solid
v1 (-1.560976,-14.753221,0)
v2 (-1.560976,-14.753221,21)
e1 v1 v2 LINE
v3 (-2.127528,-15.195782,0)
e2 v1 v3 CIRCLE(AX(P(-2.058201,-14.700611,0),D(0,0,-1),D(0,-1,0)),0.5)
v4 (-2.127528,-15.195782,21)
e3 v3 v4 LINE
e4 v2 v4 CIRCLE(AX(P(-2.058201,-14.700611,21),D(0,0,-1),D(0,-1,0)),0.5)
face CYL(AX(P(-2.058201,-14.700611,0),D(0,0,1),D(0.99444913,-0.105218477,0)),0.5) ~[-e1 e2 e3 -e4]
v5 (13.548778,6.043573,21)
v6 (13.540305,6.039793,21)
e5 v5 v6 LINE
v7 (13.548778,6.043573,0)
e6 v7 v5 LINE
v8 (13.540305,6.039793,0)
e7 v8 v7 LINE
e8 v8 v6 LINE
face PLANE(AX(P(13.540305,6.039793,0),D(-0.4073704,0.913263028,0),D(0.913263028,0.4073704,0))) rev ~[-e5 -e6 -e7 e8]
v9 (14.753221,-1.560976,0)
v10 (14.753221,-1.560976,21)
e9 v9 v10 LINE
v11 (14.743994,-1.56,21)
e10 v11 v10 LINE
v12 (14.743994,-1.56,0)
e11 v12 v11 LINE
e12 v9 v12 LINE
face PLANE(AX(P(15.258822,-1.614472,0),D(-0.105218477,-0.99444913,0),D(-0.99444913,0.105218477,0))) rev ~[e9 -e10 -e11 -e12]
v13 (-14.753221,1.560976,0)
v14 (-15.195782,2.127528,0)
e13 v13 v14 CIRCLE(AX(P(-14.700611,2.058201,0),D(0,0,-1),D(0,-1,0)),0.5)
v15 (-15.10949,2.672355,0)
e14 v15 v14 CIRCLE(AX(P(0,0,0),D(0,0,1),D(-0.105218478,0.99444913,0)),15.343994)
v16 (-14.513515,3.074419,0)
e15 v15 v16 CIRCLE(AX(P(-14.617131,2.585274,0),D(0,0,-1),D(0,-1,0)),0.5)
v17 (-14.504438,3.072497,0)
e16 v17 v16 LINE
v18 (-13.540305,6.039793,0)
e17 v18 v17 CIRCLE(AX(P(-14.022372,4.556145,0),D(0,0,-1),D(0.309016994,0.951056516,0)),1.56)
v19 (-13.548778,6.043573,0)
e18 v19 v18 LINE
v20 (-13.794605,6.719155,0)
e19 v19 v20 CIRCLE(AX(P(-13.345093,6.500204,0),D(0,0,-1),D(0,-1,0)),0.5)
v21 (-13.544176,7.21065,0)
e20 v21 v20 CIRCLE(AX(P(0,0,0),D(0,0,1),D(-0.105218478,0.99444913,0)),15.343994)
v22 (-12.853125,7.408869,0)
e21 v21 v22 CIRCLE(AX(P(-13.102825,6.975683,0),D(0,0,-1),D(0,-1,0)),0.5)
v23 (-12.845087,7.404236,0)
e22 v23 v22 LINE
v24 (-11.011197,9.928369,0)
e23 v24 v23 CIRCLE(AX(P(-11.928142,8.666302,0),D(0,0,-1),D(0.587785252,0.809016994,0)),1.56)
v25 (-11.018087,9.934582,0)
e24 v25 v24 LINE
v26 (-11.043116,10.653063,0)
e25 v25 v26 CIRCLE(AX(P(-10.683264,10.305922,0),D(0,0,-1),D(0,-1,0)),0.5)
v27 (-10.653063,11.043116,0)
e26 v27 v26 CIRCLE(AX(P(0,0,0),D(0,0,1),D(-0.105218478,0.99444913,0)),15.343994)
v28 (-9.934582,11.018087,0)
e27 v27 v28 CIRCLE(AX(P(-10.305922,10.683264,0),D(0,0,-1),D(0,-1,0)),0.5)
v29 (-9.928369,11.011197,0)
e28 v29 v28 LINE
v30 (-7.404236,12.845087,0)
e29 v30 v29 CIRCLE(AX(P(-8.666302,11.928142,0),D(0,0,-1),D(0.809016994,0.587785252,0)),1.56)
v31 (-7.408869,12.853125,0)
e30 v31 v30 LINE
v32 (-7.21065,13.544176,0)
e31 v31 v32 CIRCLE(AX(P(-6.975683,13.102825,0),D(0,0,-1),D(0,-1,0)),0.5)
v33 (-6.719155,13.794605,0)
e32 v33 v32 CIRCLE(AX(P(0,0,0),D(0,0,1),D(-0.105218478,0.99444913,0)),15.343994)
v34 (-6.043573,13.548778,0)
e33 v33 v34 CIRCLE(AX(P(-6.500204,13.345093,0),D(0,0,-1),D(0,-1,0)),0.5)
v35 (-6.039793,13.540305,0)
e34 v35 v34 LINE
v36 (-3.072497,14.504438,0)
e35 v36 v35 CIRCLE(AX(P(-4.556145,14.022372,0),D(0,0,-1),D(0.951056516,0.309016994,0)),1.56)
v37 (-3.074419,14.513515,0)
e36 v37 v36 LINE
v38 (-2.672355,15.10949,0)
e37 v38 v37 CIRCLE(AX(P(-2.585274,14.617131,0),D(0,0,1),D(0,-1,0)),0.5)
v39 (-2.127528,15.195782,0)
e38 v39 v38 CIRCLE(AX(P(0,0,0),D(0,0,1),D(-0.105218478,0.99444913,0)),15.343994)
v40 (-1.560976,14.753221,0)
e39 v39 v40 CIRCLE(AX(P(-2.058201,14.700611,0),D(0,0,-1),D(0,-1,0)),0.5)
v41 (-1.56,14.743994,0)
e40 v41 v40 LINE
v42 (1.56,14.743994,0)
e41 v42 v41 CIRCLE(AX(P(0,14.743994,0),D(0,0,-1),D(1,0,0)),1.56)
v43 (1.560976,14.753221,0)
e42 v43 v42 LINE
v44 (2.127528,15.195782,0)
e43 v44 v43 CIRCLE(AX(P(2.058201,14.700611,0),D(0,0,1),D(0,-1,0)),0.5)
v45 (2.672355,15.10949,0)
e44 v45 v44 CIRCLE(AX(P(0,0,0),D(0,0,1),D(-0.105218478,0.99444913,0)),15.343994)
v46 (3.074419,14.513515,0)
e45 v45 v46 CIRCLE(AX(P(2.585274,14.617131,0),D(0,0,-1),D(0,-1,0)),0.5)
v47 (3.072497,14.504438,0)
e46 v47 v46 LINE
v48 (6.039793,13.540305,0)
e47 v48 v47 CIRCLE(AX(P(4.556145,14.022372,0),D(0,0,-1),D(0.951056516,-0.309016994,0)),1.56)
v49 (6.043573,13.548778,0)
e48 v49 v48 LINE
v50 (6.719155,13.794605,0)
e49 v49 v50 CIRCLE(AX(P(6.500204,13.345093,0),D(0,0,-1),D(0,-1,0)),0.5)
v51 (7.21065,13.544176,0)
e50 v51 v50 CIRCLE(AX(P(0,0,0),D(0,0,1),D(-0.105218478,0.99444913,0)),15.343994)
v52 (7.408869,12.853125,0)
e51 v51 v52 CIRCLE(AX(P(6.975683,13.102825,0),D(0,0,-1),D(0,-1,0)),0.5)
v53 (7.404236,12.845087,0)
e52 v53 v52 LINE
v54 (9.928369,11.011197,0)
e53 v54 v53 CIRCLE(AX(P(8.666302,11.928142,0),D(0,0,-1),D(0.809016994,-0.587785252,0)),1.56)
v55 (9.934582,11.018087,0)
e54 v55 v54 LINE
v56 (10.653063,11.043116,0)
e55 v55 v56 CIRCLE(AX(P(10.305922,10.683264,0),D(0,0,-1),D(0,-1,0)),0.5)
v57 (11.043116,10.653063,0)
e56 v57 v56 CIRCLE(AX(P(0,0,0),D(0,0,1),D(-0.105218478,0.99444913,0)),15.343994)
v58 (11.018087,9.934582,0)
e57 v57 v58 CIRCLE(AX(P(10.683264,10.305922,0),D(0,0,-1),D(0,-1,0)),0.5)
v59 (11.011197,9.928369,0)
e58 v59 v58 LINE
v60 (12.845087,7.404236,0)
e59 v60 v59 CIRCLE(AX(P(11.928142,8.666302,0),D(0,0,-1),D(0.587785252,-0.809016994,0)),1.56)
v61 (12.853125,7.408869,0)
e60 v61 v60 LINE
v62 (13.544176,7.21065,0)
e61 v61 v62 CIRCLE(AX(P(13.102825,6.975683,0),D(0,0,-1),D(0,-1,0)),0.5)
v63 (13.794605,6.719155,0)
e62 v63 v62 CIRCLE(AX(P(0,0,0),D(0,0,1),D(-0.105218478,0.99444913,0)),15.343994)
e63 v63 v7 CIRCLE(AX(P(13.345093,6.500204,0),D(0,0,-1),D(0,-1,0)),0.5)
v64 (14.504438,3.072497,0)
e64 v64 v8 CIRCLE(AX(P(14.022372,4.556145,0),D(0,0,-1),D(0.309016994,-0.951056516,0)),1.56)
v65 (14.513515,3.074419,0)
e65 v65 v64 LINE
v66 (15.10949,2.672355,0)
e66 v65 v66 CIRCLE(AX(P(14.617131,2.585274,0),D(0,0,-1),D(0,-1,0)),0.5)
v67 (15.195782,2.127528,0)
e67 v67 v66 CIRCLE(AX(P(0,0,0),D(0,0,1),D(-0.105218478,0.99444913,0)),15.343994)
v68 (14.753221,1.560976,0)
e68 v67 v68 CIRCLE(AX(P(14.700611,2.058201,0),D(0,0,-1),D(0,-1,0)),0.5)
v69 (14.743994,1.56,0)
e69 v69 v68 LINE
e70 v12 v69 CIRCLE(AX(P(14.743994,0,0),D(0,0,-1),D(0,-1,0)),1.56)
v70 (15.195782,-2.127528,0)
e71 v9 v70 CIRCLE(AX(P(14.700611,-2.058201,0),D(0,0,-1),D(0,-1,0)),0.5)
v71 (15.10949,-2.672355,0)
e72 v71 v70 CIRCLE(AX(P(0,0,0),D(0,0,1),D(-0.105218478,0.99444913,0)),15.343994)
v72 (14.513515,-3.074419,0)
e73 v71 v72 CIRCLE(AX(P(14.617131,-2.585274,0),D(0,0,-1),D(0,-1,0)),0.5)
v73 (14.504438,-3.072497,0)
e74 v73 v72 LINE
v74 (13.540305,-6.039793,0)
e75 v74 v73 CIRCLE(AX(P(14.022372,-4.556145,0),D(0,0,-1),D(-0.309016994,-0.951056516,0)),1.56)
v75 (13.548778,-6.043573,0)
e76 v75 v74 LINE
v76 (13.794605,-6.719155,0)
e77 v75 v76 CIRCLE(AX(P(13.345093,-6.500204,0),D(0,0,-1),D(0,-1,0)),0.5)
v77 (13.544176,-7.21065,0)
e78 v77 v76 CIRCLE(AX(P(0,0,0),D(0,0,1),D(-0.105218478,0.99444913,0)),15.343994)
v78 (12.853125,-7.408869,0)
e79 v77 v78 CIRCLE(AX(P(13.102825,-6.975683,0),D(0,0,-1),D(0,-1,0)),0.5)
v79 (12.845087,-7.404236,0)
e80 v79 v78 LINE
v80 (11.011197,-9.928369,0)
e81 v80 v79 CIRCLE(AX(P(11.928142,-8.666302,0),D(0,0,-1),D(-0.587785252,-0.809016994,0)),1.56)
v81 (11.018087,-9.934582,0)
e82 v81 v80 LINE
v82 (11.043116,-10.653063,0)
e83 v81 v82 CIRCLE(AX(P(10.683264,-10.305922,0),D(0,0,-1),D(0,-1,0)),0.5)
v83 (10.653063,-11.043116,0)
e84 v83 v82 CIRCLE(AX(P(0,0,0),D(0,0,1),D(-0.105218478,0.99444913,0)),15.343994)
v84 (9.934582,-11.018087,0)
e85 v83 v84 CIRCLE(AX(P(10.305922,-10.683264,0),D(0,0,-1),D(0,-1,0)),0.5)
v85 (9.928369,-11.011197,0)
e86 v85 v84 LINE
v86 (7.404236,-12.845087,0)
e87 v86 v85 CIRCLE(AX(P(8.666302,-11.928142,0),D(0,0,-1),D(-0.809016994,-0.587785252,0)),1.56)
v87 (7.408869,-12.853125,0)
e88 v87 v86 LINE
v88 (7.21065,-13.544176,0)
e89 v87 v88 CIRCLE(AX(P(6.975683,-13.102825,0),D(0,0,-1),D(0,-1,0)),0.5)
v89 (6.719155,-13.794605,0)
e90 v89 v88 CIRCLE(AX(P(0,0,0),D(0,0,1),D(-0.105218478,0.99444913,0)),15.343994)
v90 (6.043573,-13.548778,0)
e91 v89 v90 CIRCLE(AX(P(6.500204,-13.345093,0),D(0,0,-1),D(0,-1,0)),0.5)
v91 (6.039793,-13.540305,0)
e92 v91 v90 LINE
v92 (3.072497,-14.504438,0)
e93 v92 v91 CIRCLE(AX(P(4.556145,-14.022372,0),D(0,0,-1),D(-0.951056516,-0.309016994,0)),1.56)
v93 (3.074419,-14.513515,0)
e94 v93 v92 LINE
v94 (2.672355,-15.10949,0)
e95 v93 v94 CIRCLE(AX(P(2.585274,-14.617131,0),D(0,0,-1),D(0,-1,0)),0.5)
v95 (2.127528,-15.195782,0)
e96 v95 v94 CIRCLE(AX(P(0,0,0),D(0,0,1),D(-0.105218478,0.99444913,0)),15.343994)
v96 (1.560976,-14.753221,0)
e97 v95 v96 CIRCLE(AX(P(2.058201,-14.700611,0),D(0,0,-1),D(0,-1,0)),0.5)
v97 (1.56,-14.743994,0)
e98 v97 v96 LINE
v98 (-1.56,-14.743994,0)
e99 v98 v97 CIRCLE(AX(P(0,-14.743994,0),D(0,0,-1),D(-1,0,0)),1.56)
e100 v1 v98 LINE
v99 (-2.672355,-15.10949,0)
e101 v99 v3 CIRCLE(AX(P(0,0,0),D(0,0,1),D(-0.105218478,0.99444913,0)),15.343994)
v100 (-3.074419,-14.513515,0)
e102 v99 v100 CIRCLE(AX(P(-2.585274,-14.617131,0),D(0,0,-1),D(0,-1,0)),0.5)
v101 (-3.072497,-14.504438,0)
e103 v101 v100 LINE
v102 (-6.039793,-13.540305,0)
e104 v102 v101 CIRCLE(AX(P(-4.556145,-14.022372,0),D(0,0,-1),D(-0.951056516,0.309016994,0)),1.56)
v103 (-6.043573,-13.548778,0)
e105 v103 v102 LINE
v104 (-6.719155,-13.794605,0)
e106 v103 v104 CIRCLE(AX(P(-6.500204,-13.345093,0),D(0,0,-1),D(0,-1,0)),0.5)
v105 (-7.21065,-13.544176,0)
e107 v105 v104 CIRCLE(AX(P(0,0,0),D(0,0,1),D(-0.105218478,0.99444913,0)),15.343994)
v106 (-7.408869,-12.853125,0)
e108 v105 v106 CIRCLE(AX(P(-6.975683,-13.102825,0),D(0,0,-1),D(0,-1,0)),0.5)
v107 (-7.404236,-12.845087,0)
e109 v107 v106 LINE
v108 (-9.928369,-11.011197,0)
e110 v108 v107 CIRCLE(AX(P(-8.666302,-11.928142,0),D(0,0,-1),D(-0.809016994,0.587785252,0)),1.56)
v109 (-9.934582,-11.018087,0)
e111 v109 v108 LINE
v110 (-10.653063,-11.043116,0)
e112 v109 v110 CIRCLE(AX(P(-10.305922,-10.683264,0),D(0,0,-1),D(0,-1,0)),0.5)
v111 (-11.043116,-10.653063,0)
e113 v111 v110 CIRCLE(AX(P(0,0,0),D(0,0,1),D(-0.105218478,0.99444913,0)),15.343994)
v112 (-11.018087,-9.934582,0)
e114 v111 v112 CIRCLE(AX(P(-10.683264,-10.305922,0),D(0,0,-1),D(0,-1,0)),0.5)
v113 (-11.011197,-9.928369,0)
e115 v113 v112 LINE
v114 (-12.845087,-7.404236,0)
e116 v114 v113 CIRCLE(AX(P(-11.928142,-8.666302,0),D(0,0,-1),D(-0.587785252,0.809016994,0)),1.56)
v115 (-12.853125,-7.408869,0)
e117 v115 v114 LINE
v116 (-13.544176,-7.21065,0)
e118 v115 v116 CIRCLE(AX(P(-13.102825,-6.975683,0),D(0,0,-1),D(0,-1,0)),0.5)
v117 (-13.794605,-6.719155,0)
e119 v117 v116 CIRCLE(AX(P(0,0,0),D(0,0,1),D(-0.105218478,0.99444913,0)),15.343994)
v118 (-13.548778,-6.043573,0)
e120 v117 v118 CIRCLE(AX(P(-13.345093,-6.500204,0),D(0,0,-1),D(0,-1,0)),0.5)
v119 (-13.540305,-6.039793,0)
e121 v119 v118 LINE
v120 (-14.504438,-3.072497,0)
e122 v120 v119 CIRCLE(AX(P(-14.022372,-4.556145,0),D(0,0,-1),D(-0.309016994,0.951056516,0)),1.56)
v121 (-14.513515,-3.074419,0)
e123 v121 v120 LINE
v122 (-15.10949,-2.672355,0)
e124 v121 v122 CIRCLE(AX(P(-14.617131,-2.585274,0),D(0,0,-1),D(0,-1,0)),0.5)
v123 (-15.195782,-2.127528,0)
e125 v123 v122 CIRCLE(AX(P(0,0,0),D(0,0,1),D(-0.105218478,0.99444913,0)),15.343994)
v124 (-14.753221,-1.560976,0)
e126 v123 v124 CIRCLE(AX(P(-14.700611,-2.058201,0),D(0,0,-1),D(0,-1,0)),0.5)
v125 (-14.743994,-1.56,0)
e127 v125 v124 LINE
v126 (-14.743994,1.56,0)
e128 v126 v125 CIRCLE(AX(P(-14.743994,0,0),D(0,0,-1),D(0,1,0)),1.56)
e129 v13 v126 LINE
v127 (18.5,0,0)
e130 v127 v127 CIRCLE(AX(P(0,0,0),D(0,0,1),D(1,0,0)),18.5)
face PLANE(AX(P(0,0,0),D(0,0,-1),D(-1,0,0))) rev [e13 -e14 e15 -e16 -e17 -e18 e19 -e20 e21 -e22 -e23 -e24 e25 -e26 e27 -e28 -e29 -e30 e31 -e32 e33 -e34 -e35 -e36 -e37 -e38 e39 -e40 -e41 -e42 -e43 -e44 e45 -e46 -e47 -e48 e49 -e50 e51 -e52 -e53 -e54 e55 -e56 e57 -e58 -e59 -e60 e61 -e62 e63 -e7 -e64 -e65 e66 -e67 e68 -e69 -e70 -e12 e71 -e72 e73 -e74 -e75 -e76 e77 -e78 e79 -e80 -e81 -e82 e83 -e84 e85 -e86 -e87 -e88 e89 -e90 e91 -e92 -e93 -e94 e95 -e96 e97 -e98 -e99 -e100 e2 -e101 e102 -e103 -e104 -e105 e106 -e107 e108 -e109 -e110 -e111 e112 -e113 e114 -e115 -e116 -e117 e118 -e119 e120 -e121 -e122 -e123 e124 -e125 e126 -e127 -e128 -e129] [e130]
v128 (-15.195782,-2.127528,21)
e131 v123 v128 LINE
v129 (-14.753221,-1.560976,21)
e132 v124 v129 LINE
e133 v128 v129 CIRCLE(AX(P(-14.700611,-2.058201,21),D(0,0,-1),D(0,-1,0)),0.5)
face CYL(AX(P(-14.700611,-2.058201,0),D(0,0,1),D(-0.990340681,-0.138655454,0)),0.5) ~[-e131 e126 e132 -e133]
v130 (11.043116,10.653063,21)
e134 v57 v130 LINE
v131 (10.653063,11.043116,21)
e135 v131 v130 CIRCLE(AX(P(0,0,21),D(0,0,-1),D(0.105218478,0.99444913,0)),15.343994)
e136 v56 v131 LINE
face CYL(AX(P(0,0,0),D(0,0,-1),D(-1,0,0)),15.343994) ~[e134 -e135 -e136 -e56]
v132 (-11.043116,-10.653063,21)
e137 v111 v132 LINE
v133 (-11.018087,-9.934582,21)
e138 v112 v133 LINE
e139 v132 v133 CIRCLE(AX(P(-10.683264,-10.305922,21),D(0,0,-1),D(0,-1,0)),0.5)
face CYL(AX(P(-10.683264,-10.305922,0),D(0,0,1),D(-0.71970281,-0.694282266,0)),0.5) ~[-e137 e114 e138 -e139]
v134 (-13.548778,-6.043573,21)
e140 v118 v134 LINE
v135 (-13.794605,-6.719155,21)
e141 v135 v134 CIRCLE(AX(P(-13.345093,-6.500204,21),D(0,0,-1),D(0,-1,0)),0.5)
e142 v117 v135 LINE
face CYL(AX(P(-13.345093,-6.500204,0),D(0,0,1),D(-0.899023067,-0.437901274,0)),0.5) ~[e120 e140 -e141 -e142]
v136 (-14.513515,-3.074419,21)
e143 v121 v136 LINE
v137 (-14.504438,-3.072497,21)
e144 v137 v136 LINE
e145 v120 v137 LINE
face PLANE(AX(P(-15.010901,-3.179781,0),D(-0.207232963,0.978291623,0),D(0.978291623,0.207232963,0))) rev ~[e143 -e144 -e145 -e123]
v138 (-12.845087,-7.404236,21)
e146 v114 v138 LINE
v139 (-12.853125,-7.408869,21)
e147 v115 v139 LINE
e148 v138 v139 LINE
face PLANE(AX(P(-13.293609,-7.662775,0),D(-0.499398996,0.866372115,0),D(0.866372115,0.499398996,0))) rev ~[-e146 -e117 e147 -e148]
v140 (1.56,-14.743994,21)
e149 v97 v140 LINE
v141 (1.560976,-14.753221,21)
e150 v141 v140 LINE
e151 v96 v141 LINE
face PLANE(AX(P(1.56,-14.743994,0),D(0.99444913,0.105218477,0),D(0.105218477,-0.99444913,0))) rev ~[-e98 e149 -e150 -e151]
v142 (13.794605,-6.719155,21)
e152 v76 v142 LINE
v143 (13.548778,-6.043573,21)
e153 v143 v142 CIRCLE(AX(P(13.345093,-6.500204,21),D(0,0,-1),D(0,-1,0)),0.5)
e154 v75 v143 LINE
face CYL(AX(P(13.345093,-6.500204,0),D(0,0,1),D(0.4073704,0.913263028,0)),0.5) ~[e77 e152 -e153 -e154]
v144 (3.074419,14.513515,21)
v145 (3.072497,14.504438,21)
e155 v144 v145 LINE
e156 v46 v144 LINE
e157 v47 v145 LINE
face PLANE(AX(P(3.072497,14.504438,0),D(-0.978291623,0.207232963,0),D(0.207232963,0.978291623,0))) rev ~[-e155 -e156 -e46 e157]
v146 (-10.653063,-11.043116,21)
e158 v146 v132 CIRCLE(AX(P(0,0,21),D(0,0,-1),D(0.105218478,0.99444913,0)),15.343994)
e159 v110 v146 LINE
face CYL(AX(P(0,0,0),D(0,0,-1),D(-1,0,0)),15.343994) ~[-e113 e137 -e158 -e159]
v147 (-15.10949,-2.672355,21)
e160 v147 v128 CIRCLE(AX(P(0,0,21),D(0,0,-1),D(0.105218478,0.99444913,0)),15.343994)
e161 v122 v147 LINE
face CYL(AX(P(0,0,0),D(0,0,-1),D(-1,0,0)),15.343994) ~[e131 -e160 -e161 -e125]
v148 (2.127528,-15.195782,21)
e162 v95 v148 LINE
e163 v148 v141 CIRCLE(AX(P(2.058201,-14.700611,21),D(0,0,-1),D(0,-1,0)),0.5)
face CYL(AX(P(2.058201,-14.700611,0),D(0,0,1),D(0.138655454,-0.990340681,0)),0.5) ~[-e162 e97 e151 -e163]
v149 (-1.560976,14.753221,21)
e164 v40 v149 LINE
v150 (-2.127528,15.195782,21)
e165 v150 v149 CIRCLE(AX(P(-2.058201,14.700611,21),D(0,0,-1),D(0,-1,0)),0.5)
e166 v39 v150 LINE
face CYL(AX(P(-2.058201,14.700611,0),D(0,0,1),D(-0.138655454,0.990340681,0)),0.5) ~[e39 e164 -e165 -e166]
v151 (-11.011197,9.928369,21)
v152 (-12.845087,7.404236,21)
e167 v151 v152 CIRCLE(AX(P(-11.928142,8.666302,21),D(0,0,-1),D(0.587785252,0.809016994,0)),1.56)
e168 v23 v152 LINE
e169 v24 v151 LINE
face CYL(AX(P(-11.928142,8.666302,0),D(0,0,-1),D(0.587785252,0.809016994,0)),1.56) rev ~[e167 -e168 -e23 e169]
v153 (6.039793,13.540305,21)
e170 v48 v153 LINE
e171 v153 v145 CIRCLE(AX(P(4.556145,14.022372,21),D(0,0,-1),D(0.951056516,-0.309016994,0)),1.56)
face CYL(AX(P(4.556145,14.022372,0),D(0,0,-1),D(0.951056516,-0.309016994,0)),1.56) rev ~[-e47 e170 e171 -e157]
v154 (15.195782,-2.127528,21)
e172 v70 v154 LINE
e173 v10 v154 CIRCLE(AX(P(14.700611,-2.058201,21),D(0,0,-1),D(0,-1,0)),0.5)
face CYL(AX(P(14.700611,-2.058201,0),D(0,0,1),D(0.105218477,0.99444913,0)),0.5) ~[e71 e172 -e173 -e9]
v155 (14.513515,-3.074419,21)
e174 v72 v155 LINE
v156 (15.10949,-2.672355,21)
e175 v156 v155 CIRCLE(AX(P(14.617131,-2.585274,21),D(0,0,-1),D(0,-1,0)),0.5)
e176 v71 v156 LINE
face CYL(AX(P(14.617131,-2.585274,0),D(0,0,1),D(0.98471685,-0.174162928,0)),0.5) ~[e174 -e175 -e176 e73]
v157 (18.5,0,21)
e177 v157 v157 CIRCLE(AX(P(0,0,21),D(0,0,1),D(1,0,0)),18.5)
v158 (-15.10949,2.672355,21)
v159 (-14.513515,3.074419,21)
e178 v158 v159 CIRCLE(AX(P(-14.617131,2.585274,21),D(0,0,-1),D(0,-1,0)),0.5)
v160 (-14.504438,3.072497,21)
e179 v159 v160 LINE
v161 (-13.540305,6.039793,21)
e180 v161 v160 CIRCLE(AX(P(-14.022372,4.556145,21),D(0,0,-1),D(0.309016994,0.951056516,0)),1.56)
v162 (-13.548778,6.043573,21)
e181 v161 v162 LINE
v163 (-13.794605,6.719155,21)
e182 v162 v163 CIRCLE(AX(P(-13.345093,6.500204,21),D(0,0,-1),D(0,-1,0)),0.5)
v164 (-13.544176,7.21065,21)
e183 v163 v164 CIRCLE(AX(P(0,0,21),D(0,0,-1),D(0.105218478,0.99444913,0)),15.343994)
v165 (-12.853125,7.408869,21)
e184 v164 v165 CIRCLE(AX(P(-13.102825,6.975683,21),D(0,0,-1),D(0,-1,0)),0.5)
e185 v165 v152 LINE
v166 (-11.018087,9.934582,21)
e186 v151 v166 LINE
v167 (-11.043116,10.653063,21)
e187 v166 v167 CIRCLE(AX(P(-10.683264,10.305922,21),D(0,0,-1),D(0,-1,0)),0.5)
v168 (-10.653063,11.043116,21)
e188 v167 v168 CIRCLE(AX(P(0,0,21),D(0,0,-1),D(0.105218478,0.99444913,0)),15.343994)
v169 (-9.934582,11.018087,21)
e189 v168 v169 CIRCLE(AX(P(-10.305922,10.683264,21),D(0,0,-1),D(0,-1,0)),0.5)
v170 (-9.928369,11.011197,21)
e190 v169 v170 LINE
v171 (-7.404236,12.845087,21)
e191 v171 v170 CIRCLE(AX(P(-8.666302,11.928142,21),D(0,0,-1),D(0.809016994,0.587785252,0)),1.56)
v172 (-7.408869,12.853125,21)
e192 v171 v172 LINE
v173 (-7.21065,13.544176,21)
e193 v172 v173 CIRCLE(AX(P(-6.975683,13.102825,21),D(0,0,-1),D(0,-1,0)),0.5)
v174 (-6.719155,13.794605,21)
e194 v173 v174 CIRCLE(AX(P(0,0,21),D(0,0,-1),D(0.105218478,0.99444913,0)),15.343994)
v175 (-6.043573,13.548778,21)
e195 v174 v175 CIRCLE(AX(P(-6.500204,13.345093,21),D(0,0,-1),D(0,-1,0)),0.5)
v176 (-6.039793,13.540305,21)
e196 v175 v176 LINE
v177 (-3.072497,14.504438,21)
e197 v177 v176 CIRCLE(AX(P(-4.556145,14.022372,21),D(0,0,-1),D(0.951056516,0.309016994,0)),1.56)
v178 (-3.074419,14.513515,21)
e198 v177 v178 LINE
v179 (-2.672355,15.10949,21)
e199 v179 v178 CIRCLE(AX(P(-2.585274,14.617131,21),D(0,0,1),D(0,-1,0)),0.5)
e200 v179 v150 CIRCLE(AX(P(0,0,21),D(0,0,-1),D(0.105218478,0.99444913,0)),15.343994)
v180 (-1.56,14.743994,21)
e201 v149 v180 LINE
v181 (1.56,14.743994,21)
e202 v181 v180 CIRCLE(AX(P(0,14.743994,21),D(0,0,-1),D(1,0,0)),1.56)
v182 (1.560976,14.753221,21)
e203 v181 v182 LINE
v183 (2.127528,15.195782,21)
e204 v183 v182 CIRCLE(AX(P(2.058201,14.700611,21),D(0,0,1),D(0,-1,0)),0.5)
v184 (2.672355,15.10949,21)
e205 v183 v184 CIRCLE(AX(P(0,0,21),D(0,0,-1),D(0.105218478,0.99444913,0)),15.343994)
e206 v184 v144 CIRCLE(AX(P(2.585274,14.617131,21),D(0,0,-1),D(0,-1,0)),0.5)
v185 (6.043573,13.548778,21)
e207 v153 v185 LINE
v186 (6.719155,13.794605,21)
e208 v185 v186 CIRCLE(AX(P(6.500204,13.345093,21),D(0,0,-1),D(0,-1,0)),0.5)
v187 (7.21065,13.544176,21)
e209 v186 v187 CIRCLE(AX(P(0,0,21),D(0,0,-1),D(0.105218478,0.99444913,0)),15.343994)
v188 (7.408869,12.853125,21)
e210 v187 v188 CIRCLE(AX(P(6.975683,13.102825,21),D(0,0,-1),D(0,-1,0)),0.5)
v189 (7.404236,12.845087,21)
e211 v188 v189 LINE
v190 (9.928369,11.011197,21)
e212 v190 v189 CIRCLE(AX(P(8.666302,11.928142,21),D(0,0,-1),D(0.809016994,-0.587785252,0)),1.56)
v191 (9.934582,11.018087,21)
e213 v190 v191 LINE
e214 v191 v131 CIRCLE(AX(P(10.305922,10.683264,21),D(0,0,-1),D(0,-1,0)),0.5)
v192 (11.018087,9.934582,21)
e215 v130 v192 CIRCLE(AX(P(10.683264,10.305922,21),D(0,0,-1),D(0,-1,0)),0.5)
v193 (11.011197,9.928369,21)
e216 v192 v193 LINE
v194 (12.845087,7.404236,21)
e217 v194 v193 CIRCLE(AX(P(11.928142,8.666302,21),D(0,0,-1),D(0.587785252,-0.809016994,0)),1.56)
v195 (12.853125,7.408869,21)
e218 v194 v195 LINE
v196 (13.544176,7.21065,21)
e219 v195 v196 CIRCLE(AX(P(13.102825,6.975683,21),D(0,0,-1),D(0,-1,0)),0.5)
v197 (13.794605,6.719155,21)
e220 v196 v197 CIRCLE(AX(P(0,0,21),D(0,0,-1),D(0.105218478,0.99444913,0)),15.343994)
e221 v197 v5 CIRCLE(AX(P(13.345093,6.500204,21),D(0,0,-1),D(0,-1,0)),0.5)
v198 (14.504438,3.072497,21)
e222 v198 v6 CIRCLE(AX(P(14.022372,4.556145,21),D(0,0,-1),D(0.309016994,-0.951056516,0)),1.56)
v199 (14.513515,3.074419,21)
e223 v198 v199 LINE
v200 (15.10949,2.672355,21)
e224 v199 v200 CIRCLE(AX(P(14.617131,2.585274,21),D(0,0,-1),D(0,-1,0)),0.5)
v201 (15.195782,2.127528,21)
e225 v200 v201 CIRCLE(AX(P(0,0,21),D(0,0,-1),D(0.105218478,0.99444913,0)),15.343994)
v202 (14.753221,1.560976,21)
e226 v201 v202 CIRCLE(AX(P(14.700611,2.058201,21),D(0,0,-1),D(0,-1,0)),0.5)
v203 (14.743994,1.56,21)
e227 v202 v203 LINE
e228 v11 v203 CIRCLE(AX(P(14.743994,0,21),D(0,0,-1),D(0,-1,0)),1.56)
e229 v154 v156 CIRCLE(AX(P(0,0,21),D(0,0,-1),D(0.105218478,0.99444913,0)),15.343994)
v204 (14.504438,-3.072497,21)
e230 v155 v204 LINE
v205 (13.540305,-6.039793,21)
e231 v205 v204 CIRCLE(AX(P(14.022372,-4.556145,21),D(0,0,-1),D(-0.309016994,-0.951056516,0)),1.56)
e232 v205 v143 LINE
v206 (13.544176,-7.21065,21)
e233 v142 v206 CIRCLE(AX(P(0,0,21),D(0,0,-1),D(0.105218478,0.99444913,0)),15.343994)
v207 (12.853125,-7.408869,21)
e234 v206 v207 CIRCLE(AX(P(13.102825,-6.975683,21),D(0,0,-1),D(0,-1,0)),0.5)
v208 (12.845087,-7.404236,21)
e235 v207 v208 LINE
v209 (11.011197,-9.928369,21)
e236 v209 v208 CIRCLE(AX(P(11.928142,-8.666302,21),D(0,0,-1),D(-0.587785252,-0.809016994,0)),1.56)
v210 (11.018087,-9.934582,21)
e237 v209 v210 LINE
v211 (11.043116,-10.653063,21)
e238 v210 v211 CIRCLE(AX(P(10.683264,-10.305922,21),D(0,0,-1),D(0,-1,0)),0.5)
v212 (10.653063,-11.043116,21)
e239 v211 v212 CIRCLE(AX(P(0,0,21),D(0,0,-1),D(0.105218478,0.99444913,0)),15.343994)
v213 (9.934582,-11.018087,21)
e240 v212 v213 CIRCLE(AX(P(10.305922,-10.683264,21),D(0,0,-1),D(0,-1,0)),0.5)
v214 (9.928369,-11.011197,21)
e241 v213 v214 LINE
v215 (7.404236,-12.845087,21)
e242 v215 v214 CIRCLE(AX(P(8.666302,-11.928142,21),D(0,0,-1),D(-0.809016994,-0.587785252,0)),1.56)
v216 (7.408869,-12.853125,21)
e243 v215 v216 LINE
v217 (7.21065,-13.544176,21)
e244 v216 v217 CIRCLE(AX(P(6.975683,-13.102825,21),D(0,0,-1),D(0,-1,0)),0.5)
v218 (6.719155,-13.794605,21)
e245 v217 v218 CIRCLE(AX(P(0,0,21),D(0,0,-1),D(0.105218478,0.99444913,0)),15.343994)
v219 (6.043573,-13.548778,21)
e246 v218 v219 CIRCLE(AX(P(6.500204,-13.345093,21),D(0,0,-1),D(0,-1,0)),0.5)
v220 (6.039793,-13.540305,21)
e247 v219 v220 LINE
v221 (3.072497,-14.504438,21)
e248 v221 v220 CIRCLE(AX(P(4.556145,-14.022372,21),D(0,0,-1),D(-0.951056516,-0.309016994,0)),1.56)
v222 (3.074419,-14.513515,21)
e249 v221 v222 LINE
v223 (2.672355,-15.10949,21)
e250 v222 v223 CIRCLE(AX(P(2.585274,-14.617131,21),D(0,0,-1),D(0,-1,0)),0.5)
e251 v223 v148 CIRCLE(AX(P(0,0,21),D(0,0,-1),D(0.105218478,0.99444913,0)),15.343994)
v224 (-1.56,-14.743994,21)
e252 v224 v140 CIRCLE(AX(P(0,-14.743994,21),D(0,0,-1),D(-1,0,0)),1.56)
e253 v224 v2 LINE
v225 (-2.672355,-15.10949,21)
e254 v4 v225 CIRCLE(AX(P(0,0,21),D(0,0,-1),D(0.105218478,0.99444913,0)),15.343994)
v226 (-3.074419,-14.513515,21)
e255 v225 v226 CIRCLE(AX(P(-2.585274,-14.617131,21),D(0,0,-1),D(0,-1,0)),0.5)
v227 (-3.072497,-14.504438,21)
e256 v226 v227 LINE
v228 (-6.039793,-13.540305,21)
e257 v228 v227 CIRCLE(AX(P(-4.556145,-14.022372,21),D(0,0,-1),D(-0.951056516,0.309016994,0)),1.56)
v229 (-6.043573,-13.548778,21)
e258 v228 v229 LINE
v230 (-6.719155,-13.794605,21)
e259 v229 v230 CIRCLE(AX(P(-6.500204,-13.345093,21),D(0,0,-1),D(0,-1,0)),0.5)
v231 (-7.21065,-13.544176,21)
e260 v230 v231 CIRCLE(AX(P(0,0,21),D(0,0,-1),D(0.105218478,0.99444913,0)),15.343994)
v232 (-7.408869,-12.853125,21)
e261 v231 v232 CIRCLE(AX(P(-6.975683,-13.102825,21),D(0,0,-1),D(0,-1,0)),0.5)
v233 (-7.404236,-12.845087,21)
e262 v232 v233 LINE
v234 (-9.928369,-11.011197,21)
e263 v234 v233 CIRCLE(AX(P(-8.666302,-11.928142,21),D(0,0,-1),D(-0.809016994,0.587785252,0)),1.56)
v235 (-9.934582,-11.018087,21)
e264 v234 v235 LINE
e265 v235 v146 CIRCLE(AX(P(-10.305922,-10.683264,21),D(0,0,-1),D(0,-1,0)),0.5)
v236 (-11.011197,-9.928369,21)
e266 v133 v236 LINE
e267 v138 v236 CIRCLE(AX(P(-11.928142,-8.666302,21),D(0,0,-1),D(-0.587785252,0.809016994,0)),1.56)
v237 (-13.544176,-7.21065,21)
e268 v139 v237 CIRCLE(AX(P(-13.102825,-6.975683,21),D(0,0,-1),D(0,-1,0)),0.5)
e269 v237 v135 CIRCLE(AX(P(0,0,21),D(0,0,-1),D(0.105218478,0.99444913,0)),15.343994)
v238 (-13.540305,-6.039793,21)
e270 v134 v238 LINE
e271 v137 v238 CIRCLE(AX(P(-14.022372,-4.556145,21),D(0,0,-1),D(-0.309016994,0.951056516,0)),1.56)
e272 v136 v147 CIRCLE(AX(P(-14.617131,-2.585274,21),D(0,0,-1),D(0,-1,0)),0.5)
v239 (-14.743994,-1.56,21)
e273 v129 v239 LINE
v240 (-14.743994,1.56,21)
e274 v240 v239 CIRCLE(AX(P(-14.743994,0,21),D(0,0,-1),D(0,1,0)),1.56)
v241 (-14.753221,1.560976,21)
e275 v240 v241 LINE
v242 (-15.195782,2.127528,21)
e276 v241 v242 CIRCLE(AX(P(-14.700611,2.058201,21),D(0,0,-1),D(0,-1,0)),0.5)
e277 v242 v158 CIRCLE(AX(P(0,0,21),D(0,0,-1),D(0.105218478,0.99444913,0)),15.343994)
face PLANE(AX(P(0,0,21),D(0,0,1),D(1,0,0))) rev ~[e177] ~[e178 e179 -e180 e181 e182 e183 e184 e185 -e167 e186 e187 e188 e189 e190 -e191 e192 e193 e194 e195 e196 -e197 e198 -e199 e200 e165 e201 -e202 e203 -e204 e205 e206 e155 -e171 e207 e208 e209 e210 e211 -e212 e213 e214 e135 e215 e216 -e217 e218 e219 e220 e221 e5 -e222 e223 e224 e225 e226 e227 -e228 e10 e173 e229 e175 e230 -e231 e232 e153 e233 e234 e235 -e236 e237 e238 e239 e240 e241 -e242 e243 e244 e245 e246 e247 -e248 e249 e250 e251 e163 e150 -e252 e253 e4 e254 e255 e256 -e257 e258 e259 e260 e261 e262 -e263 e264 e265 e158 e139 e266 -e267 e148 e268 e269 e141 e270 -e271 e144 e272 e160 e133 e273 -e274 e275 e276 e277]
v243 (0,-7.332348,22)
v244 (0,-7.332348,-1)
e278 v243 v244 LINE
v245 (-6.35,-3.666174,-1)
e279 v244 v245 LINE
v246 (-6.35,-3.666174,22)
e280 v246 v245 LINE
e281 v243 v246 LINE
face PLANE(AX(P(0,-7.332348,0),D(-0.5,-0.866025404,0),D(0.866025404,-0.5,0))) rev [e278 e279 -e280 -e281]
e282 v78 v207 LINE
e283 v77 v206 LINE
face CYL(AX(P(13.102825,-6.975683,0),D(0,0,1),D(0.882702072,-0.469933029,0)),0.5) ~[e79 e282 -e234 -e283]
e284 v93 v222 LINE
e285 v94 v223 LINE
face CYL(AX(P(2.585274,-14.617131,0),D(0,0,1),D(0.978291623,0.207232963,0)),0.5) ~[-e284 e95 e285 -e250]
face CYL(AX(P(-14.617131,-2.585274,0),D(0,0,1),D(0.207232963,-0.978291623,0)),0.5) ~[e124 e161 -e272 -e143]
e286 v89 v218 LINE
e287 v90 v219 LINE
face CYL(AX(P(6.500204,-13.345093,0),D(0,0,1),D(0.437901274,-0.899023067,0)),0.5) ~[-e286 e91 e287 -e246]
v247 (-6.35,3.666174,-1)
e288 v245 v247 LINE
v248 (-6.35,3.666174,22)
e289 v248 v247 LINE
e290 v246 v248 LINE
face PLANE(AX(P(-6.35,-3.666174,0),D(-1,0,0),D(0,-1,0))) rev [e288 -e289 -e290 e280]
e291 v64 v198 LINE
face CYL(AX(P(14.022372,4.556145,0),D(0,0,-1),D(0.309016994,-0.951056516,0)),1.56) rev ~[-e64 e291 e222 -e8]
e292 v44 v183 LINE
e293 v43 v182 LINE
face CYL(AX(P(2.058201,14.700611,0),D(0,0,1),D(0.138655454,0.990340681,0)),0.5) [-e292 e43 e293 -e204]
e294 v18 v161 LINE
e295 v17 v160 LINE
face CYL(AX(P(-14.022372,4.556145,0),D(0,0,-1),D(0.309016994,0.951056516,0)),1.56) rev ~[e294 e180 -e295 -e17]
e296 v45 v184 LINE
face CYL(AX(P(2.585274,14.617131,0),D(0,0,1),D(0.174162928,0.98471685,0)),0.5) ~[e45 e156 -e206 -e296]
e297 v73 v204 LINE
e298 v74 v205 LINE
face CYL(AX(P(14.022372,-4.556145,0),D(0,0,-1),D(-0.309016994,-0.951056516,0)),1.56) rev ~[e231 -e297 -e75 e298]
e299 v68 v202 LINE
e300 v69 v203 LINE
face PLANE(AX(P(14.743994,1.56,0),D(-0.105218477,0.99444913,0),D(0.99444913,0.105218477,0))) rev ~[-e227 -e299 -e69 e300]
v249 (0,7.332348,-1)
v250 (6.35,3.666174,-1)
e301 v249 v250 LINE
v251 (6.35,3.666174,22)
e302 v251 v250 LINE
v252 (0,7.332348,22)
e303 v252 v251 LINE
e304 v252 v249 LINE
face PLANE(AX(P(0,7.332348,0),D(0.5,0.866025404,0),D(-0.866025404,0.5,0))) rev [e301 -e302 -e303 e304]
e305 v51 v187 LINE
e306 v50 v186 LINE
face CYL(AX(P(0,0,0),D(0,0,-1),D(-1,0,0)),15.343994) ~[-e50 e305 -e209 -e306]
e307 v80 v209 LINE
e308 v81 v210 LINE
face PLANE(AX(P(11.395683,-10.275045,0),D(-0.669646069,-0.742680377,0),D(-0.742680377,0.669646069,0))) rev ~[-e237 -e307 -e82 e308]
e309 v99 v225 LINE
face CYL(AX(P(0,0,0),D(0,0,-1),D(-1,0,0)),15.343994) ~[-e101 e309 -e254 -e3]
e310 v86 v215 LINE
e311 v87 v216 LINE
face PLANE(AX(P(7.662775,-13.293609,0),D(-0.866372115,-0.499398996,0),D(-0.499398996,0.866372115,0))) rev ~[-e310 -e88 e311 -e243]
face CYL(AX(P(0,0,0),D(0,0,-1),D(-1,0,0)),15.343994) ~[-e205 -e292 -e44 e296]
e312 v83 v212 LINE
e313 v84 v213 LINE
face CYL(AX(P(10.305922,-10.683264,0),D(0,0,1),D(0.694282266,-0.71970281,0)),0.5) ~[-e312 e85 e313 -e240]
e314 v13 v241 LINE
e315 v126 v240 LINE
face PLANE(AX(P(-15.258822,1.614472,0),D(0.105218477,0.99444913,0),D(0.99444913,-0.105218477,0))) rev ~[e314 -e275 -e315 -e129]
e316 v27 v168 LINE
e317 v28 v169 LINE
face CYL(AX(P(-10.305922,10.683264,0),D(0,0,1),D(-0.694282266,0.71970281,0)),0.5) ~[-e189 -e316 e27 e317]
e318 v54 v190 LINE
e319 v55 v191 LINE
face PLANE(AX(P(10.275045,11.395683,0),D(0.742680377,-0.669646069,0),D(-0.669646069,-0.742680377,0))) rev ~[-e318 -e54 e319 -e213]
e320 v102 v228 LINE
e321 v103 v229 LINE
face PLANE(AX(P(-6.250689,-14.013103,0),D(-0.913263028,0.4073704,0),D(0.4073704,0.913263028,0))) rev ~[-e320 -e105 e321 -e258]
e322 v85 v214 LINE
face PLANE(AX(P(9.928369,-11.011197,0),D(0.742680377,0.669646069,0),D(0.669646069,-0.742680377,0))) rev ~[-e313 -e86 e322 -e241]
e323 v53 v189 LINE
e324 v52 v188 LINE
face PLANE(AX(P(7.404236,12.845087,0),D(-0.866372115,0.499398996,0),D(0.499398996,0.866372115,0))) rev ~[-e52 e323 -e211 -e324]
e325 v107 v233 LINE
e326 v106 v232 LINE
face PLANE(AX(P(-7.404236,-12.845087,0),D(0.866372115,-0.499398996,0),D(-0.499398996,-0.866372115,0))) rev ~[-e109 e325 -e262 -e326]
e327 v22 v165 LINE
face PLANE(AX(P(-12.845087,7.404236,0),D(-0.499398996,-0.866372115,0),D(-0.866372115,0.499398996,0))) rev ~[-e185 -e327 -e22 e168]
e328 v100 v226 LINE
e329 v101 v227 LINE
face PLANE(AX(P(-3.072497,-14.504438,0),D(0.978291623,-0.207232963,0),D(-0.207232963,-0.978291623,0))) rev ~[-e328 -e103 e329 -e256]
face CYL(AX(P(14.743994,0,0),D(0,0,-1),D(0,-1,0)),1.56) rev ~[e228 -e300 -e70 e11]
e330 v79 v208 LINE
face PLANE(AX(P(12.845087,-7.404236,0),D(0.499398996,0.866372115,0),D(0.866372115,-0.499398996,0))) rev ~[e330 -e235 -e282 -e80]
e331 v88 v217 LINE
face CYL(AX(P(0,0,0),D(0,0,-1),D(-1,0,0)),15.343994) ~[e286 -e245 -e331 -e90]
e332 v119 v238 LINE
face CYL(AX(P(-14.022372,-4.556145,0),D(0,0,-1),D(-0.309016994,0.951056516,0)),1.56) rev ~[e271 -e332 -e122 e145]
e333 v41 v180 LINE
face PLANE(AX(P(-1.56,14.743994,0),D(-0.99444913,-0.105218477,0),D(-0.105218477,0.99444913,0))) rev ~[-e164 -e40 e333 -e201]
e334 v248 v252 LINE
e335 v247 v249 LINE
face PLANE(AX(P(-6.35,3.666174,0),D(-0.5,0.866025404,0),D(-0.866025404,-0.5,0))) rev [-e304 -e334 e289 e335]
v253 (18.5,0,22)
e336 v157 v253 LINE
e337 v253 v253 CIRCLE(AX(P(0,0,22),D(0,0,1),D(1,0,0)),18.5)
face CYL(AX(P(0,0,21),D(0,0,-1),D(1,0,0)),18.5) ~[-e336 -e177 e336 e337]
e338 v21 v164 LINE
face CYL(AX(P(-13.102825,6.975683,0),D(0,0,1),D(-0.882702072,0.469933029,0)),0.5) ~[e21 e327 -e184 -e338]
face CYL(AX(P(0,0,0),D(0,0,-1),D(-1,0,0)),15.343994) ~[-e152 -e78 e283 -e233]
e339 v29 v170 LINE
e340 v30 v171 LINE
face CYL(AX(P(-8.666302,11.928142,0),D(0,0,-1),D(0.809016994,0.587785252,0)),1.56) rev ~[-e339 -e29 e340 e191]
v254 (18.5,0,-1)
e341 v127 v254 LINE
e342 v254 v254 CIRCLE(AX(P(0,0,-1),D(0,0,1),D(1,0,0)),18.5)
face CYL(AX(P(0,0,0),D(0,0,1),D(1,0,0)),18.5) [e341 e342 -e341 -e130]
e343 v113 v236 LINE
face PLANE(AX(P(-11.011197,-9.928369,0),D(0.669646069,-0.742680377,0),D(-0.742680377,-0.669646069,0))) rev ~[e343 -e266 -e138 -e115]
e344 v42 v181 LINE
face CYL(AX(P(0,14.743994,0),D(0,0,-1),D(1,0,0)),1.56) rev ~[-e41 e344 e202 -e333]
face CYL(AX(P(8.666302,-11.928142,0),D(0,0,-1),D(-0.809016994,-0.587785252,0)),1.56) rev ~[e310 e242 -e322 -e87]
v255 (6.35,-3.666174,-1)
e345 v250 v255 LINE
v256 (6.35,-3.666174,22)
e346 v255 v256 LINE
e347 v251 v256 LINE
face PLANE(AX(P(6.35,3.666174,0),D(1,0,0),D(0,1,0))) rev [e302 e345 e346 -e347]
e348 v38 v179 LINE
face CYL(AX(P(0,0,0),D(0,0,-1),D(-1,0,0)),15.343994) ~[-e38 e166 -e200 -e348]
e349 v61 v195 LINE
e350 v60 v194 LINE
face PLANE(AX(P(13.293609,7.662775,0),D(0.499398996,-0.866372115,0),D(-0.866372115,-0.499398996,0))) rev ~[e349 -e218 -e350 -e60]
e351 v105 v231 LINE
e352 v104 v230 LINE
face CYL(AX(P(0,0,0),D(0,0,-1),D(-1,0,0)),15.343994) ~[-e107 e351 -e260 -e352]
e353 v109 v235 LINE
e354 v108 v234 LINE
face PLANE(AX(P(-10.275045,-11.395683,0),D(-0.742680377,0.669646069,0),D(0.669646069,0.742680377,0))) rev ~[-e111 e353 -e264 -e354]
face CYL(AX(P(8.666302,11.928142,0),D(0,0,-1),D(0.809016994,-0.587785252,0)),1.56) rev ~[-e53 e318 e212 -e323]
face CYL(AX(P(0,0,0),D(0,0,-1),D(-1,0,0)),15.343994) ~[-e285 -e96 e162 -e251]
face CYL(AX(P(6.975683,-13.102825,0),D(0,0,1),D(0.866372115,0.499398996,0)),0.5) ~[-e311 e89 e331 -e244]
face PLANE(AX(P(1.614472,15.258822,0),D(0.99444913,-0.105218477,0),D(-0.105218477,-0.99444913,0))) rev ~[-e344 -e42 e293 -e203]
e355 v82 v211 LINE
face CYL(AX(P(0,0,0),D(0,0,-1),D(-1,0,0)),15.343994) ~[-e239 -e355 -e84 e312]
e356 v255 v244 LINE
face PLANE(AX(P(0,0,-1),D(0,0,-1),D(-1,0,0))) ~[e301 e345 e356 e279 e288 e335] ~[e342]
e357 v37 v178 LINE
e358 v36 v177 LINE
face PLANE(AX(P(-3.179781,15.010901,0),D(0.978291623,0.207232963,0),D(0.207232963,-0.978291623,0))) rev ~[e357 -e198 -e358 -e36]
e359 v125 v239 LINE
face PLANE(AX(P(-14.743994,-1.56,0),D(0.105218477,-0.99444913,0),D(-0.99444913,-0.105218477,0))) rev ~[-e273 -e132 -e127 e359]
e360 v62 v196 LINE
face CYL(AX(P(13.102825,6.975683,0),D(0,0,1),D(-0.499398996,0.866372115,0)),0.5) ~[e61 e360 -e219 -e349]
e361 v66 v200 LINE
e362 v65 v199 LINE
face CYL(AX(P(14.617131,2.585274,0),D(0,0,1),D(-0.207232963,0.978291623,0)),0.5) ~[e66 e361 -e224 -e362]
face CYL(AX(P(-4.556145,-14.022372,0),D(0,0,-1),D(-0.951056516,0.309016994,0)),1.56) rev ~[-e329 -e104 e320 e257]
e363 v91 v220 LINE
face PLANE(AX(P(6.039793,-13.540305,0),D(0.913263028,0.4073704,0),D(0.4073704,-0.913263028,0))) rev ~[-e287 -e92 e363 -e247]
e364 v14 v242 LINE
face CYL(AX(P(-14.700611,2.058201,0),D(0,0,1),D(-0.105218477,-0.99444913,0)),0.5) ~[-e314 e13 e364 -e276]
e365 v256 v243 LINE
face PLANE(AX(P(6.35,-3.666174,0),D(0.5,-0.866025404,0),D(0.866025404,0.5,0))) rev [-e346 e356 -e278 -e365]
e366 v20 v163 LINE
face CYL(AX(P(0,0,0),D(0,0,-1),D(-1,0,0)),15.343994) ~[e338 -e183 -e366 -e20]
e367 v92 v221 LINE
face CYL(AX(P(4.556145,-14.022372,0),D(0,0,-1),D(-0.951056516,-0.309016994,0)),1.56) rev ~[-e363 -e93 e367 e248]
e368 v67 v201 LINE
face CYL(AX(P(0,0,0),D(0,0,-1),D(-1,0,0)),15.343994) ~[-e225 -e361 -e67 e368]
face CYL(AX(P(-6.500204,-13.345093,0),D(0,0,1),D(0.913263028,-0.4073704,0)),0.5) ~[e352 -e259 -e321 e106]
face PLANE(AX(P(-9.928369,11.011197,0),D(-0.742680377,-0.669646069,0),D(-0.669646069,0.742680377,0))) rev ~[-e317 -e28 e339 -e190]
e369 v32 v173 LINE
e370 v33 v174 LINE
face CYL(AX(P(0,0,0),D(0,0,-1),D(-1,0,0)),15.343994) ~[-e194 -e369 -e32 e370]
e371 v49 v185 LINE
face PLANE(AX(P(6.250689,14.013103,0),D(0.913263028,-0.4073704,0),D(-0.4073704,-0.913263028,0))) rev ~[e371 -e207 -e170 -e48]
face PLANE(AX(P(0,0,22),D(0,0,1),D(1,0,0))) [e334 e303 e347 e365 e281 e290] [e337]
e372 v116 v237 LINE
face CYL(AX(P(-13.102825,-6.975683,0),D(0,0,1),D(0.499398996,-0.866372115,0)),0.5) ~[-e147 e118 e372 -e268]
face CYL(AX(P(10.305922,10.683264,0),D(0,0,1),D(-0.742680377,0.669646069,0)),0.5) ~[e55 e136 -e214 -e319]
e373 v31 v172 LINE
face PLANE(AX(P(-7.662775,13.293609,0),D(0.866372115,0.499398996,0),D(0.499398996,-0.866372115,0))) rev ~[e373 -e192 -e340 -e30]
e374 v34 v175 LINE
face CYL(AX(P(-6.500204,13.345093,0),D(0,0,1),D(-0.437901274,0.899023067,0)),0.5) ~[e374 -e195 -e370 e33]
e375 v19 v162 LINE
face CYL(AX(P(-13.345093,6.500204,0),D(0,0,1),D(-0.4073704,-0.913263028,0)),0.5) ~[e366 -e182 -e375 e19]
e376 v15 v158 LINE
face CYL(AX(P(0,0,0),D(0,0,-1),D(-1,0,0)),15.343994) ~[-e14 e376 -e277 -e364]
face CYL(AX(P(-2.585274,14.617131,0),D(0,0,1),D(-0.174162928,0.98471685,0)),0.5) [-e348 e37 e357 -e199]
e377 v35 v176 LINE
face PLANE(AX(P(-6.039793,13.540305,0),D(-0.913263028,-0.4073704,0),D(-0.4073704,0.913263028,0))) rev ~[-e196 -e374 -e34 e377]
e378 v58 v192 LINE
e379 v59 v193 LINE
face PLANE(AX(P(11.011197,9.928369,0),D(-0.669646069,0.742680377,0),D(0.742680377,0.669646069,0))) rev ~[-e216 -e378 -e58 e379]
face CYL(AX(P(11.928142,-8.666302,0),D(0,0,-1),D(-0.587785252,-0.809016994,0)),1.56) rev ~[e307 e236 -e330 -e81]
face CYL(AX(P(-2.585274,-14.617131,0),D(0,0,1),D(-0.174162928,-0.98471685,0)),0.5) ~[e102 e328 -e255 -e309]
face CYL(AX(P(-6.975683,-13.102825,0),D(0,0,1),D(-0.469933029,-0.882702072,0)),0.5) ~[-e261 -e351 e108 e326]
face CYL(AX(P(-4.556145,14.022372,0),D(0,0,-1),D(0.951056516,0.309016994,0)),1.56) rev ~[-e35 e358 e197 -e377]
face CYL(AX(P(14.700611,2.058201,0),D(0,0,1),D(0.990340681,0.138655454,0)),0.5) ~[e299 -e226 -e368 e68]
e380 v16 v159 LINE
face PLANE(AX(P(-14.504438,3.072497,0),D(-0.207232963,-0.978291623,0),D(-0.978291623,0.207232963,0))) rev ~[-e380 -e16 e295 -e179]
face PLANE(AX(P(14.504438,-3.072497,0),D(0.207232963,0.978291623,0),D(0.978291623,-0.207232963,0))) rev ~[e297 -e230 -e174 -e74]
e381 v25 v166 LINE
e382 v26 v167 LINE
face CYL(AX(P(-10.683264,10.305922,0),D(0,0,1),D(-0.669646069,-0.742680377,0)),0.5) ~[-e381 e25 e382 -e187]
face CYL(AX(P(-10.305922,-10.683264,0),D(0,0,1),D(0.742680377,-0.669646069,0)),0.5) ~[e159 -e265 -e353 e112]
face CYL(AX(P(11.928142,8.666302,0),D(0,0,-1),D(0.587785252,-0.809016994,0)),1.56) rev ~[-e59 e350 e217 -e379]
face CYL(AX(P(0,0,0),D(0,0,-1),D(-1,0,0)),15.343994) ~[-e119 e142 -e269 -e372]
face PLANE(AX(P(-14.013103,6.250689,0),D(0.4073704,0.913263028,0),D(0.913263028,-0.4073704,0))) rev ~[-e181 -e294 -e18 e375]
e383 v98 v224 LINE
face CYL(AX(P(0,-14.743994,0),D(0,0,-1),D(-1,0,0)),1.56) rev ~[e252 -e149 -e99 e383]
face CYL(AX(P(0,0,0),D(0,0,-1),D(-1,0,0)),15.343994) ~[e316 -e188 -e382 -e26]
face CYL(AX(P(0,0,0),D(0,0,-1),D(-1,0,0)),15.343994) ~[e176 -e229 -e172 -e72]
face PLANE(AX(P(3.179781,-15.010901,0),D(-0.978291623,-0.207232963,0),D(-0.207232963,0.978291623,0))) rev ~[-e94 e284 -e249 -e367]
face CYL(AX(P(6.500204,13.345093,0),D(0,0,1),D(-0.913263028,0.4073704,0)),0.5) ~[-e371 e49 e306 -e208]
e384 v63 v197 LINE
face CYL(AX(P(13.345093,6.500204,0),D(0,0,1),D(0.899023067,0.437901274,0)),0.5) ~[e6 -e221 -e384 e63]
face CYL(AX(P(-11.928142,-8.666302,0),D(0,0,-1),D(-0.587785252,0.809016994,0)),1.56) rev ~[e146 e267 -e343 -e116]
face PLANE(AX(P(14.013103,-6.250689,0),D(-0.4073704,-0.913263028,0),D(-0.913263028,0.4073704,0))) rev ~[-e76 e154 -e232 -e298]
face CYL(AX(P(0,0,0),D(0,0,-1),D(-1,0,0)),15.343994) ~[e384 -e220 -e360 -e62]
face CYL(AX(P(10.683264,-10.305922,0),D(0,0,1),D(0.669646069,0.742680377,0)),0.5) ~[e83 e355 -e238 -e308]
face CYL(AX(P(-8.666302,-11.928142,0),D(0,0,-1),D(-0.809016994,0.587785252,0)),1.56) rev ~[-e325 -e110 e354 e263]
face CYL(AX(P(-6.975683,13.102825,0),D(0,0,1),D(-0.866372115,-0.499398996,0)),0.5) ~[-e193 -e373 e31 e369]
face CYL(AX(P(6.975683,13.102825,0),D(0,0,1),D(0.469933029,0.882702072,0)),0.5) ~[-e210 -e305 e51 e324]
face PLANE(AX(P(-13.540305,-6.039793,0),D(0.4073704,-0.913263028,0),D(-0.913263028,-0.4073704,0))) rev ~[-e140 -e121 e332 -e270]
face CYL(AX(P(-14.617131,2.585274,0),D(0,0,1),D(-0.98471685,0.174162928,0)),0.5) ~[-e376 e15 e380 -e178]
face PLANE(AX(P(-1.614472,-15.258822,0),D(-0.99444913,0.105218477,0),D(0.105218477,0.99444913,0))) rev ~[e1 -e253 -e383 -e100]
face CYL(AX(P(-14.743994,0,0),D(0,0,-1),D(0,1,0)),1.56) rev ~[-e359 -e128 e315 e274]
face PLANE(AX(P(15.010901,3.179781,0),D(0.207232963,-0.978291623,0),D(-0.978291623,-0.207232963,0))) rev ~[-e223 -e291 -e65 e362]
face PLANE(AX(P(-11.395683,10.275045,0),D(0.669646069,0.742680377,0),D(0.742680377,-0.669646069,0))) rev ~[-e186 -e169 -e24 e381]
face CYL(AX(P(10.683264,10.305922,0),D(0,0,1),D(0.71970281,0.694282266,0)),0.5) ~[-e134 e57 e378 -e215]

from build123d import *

# Parameters (mm, degrees)
SKETCH2_R                = 15.343994309
BOSS_EXTRUDE1_DEPTH      = 21
CUT_EXTRUDE1_DEPTH       = 31.19728999
FILLET1_R                = 0.5
CIRPATTERN1_COUNT        = 20
FILLET1_OF_CIRPATTERN1_R = 0.5
CUT_EXTRUDE2_DEPTH       = 31.051908029
SKETCH7_R                = 18.5
BOSS_EXTRUDE2_DEPTH      = 1


with BuildPart() as part:
    # Sketch2 → Boss-Extrude1 (new body)
    with BuildSketch(Plane.XY):
        with Locations(Location((0, 0, 0), (0, 0, 180))):
            Circle(SKETCH2_R)
    extrude(amount=BOSS_EXTRUDE1_DEPTH)

    # Sketch3 → Cut-Extrude1 (cut, through all)
    with BuildSketch(Plane(origin=(0, 0, 0), x_dir=(-1, 0, 0), z_dir=(0, 0, -1))):
        with BuildLine():
            Line((-1.614471729, 15.258821789), (-1.56, 14.743994309))
            ThreePointArc((-1.56, 14.743994309), (0, 13.183994309), (1.56, 14.743994309))
            Line((1.56, 14.743994309), (1.614471729, 15.258821789))
            ThreePointArc((1.614471729, 15.258821789), (0, 15.343994309), (-1.614471729, 15.258821789))
        make_face()
    cut_extrude1 = extrude(amount=-CUT_EXTRUDE1_DEPTH, mode=Mode.SUBTRACT)

    # Fillet1
    fillet1_edges = [part.edges().sort_by_distance(p)[0] for p in [
        (1.614471729, 15.258821789, 10.5),
        (-1.614471729, 15.258821789, 10.5),
    ]]
    fillet(fillet1_edges, radius=FILLET1_R)

    # CirPattern1: Cut-Extrude1 ×20 about axis
    cirpattern1_axis = Axis((0, 0, 0), (0, 0, 1))
    for i in range(1, CIRPATTERN1_COUNT):
        add(cut_extrude1.rotate(cirpattern1_axis, i * 360 / CIRPATTERN1_COUNT), mode=Mode.SUBTRACT)

    # Fillet1 of CirPattern1
    fillet1_of_cirpattern1_edges = [part.edges().sort_by_distance(p)[0] for p in [
        (-3.179781388, 15.010901095, 10.5),
        (-6.250689106, 14.013102692, 10.5),
        (-7.662775349, 13.293608814, 10.5),
        (-10.275045481, 11.395683469, 10.5),
        (-11.395683469, 10.275045481, 10.5),
        (-13.293608814, 7.662775349, 10.5),
        (-14.013102692, 6.250689106, 10.5),
        (-15.010901095, 3.179781388, 10.5),
        (-15.258821789, 1.614471729, 10.5),
        (-15.258821789, -1.614471729, 10.5),
        (-15.010901095, -3.179781388, 10.5),
        (-14.013102692, -6.250689106, 10.5),
        (-13.293608814, -7.662775349, 10.5),
        (-11.395683469, -10.275045481, 10.5),
        (-10.275045481, -11.395683469, 10.5),
        (-7.662775349, -13.293608814, 10.5),
        (-6.250689106, -14.013102692, 10.5),
        (-3.179781388, -15.010901095, 10.5),
        (-1.614471729, -15.258821789, 10.5),
        (1.614471729, -15.258821789, 10.5),
        (3.179781388, -15.010901095, 10.5),
        (6.250689106, -14.013102692, 10.5),
        (7.662775349, -13.293608814, 10.5),
        (10.275045481, -11.395683469, 10.5),
        (11.395683469, -10.275045481, 10.5),
        (13.293608814, -7.662775349, 10.5),
        (14.013102692, -6.250689106, 10.5),
        (15.010901095, -3.179781388, 10.5),
        (15.258821789, -1.614471729, 10.5),
        (15.258821789, 1.614471729, 10.5),
        (15.010901095, 3.179781388, 10.5),
        (14.013102692, 6.250689106, 10.5),
        (13.293608814, 7.662775349, 10.5),
        (11.395683469, 10.275045481, 10.5),
        (10.275045481, 11.395683469, 10.5),
        (7.662775349, 13.293608814, 10.5),
        (6.250689106, 14.013102692, 10.5),
        (3.179781388, 15.010901095, 10.5),
    ]]
    fillet(fillet1_of_cirpattern1_edges, radius=FILLET1_OF_CIRPATTERN1_R)

    # Sketch5 → Cut-Extrude2 (cut, through all)
    with BuildSketch(Plane(origin=(0, 0, 0), x_dir=(-1, 0, 0), z_dir=(0, 0, -1))):
        Polygon((0, -7.332348419), (6.35, -3.666174209), (6.35, 3.666174209), (0, 7.332348419), (-6.35, 3.666174209), (-6.35, -3.666174209), align=None)
    extrude(amount=-CUT_EXTRUDE2_DEPTH, mode=Mode.SUBTRACT)

    # Sketch7 → Boss-Extrude2 (add)
    with BuildSketch(Plane.XY.offset(21)):
        Circle(SKETCH7_R)
        Polygon((6.35, -3.666174209), (0, -7.332348419), (-6.35, -3.666174209), (-6.35, 3.666174209), (0, 7.332348419), (6.35, 3.666174209), align=None, mode=Mode.SUBTRACT)
    boss_extrude2 = extrude(amount=BOSS_EXTRUDE2_DEPTH)

    # Mirror1: Boss-Extrude2 across plane
    add(boss_extrude2.mirror(Plane.XY.offset(10.5)))


solid = part.part
